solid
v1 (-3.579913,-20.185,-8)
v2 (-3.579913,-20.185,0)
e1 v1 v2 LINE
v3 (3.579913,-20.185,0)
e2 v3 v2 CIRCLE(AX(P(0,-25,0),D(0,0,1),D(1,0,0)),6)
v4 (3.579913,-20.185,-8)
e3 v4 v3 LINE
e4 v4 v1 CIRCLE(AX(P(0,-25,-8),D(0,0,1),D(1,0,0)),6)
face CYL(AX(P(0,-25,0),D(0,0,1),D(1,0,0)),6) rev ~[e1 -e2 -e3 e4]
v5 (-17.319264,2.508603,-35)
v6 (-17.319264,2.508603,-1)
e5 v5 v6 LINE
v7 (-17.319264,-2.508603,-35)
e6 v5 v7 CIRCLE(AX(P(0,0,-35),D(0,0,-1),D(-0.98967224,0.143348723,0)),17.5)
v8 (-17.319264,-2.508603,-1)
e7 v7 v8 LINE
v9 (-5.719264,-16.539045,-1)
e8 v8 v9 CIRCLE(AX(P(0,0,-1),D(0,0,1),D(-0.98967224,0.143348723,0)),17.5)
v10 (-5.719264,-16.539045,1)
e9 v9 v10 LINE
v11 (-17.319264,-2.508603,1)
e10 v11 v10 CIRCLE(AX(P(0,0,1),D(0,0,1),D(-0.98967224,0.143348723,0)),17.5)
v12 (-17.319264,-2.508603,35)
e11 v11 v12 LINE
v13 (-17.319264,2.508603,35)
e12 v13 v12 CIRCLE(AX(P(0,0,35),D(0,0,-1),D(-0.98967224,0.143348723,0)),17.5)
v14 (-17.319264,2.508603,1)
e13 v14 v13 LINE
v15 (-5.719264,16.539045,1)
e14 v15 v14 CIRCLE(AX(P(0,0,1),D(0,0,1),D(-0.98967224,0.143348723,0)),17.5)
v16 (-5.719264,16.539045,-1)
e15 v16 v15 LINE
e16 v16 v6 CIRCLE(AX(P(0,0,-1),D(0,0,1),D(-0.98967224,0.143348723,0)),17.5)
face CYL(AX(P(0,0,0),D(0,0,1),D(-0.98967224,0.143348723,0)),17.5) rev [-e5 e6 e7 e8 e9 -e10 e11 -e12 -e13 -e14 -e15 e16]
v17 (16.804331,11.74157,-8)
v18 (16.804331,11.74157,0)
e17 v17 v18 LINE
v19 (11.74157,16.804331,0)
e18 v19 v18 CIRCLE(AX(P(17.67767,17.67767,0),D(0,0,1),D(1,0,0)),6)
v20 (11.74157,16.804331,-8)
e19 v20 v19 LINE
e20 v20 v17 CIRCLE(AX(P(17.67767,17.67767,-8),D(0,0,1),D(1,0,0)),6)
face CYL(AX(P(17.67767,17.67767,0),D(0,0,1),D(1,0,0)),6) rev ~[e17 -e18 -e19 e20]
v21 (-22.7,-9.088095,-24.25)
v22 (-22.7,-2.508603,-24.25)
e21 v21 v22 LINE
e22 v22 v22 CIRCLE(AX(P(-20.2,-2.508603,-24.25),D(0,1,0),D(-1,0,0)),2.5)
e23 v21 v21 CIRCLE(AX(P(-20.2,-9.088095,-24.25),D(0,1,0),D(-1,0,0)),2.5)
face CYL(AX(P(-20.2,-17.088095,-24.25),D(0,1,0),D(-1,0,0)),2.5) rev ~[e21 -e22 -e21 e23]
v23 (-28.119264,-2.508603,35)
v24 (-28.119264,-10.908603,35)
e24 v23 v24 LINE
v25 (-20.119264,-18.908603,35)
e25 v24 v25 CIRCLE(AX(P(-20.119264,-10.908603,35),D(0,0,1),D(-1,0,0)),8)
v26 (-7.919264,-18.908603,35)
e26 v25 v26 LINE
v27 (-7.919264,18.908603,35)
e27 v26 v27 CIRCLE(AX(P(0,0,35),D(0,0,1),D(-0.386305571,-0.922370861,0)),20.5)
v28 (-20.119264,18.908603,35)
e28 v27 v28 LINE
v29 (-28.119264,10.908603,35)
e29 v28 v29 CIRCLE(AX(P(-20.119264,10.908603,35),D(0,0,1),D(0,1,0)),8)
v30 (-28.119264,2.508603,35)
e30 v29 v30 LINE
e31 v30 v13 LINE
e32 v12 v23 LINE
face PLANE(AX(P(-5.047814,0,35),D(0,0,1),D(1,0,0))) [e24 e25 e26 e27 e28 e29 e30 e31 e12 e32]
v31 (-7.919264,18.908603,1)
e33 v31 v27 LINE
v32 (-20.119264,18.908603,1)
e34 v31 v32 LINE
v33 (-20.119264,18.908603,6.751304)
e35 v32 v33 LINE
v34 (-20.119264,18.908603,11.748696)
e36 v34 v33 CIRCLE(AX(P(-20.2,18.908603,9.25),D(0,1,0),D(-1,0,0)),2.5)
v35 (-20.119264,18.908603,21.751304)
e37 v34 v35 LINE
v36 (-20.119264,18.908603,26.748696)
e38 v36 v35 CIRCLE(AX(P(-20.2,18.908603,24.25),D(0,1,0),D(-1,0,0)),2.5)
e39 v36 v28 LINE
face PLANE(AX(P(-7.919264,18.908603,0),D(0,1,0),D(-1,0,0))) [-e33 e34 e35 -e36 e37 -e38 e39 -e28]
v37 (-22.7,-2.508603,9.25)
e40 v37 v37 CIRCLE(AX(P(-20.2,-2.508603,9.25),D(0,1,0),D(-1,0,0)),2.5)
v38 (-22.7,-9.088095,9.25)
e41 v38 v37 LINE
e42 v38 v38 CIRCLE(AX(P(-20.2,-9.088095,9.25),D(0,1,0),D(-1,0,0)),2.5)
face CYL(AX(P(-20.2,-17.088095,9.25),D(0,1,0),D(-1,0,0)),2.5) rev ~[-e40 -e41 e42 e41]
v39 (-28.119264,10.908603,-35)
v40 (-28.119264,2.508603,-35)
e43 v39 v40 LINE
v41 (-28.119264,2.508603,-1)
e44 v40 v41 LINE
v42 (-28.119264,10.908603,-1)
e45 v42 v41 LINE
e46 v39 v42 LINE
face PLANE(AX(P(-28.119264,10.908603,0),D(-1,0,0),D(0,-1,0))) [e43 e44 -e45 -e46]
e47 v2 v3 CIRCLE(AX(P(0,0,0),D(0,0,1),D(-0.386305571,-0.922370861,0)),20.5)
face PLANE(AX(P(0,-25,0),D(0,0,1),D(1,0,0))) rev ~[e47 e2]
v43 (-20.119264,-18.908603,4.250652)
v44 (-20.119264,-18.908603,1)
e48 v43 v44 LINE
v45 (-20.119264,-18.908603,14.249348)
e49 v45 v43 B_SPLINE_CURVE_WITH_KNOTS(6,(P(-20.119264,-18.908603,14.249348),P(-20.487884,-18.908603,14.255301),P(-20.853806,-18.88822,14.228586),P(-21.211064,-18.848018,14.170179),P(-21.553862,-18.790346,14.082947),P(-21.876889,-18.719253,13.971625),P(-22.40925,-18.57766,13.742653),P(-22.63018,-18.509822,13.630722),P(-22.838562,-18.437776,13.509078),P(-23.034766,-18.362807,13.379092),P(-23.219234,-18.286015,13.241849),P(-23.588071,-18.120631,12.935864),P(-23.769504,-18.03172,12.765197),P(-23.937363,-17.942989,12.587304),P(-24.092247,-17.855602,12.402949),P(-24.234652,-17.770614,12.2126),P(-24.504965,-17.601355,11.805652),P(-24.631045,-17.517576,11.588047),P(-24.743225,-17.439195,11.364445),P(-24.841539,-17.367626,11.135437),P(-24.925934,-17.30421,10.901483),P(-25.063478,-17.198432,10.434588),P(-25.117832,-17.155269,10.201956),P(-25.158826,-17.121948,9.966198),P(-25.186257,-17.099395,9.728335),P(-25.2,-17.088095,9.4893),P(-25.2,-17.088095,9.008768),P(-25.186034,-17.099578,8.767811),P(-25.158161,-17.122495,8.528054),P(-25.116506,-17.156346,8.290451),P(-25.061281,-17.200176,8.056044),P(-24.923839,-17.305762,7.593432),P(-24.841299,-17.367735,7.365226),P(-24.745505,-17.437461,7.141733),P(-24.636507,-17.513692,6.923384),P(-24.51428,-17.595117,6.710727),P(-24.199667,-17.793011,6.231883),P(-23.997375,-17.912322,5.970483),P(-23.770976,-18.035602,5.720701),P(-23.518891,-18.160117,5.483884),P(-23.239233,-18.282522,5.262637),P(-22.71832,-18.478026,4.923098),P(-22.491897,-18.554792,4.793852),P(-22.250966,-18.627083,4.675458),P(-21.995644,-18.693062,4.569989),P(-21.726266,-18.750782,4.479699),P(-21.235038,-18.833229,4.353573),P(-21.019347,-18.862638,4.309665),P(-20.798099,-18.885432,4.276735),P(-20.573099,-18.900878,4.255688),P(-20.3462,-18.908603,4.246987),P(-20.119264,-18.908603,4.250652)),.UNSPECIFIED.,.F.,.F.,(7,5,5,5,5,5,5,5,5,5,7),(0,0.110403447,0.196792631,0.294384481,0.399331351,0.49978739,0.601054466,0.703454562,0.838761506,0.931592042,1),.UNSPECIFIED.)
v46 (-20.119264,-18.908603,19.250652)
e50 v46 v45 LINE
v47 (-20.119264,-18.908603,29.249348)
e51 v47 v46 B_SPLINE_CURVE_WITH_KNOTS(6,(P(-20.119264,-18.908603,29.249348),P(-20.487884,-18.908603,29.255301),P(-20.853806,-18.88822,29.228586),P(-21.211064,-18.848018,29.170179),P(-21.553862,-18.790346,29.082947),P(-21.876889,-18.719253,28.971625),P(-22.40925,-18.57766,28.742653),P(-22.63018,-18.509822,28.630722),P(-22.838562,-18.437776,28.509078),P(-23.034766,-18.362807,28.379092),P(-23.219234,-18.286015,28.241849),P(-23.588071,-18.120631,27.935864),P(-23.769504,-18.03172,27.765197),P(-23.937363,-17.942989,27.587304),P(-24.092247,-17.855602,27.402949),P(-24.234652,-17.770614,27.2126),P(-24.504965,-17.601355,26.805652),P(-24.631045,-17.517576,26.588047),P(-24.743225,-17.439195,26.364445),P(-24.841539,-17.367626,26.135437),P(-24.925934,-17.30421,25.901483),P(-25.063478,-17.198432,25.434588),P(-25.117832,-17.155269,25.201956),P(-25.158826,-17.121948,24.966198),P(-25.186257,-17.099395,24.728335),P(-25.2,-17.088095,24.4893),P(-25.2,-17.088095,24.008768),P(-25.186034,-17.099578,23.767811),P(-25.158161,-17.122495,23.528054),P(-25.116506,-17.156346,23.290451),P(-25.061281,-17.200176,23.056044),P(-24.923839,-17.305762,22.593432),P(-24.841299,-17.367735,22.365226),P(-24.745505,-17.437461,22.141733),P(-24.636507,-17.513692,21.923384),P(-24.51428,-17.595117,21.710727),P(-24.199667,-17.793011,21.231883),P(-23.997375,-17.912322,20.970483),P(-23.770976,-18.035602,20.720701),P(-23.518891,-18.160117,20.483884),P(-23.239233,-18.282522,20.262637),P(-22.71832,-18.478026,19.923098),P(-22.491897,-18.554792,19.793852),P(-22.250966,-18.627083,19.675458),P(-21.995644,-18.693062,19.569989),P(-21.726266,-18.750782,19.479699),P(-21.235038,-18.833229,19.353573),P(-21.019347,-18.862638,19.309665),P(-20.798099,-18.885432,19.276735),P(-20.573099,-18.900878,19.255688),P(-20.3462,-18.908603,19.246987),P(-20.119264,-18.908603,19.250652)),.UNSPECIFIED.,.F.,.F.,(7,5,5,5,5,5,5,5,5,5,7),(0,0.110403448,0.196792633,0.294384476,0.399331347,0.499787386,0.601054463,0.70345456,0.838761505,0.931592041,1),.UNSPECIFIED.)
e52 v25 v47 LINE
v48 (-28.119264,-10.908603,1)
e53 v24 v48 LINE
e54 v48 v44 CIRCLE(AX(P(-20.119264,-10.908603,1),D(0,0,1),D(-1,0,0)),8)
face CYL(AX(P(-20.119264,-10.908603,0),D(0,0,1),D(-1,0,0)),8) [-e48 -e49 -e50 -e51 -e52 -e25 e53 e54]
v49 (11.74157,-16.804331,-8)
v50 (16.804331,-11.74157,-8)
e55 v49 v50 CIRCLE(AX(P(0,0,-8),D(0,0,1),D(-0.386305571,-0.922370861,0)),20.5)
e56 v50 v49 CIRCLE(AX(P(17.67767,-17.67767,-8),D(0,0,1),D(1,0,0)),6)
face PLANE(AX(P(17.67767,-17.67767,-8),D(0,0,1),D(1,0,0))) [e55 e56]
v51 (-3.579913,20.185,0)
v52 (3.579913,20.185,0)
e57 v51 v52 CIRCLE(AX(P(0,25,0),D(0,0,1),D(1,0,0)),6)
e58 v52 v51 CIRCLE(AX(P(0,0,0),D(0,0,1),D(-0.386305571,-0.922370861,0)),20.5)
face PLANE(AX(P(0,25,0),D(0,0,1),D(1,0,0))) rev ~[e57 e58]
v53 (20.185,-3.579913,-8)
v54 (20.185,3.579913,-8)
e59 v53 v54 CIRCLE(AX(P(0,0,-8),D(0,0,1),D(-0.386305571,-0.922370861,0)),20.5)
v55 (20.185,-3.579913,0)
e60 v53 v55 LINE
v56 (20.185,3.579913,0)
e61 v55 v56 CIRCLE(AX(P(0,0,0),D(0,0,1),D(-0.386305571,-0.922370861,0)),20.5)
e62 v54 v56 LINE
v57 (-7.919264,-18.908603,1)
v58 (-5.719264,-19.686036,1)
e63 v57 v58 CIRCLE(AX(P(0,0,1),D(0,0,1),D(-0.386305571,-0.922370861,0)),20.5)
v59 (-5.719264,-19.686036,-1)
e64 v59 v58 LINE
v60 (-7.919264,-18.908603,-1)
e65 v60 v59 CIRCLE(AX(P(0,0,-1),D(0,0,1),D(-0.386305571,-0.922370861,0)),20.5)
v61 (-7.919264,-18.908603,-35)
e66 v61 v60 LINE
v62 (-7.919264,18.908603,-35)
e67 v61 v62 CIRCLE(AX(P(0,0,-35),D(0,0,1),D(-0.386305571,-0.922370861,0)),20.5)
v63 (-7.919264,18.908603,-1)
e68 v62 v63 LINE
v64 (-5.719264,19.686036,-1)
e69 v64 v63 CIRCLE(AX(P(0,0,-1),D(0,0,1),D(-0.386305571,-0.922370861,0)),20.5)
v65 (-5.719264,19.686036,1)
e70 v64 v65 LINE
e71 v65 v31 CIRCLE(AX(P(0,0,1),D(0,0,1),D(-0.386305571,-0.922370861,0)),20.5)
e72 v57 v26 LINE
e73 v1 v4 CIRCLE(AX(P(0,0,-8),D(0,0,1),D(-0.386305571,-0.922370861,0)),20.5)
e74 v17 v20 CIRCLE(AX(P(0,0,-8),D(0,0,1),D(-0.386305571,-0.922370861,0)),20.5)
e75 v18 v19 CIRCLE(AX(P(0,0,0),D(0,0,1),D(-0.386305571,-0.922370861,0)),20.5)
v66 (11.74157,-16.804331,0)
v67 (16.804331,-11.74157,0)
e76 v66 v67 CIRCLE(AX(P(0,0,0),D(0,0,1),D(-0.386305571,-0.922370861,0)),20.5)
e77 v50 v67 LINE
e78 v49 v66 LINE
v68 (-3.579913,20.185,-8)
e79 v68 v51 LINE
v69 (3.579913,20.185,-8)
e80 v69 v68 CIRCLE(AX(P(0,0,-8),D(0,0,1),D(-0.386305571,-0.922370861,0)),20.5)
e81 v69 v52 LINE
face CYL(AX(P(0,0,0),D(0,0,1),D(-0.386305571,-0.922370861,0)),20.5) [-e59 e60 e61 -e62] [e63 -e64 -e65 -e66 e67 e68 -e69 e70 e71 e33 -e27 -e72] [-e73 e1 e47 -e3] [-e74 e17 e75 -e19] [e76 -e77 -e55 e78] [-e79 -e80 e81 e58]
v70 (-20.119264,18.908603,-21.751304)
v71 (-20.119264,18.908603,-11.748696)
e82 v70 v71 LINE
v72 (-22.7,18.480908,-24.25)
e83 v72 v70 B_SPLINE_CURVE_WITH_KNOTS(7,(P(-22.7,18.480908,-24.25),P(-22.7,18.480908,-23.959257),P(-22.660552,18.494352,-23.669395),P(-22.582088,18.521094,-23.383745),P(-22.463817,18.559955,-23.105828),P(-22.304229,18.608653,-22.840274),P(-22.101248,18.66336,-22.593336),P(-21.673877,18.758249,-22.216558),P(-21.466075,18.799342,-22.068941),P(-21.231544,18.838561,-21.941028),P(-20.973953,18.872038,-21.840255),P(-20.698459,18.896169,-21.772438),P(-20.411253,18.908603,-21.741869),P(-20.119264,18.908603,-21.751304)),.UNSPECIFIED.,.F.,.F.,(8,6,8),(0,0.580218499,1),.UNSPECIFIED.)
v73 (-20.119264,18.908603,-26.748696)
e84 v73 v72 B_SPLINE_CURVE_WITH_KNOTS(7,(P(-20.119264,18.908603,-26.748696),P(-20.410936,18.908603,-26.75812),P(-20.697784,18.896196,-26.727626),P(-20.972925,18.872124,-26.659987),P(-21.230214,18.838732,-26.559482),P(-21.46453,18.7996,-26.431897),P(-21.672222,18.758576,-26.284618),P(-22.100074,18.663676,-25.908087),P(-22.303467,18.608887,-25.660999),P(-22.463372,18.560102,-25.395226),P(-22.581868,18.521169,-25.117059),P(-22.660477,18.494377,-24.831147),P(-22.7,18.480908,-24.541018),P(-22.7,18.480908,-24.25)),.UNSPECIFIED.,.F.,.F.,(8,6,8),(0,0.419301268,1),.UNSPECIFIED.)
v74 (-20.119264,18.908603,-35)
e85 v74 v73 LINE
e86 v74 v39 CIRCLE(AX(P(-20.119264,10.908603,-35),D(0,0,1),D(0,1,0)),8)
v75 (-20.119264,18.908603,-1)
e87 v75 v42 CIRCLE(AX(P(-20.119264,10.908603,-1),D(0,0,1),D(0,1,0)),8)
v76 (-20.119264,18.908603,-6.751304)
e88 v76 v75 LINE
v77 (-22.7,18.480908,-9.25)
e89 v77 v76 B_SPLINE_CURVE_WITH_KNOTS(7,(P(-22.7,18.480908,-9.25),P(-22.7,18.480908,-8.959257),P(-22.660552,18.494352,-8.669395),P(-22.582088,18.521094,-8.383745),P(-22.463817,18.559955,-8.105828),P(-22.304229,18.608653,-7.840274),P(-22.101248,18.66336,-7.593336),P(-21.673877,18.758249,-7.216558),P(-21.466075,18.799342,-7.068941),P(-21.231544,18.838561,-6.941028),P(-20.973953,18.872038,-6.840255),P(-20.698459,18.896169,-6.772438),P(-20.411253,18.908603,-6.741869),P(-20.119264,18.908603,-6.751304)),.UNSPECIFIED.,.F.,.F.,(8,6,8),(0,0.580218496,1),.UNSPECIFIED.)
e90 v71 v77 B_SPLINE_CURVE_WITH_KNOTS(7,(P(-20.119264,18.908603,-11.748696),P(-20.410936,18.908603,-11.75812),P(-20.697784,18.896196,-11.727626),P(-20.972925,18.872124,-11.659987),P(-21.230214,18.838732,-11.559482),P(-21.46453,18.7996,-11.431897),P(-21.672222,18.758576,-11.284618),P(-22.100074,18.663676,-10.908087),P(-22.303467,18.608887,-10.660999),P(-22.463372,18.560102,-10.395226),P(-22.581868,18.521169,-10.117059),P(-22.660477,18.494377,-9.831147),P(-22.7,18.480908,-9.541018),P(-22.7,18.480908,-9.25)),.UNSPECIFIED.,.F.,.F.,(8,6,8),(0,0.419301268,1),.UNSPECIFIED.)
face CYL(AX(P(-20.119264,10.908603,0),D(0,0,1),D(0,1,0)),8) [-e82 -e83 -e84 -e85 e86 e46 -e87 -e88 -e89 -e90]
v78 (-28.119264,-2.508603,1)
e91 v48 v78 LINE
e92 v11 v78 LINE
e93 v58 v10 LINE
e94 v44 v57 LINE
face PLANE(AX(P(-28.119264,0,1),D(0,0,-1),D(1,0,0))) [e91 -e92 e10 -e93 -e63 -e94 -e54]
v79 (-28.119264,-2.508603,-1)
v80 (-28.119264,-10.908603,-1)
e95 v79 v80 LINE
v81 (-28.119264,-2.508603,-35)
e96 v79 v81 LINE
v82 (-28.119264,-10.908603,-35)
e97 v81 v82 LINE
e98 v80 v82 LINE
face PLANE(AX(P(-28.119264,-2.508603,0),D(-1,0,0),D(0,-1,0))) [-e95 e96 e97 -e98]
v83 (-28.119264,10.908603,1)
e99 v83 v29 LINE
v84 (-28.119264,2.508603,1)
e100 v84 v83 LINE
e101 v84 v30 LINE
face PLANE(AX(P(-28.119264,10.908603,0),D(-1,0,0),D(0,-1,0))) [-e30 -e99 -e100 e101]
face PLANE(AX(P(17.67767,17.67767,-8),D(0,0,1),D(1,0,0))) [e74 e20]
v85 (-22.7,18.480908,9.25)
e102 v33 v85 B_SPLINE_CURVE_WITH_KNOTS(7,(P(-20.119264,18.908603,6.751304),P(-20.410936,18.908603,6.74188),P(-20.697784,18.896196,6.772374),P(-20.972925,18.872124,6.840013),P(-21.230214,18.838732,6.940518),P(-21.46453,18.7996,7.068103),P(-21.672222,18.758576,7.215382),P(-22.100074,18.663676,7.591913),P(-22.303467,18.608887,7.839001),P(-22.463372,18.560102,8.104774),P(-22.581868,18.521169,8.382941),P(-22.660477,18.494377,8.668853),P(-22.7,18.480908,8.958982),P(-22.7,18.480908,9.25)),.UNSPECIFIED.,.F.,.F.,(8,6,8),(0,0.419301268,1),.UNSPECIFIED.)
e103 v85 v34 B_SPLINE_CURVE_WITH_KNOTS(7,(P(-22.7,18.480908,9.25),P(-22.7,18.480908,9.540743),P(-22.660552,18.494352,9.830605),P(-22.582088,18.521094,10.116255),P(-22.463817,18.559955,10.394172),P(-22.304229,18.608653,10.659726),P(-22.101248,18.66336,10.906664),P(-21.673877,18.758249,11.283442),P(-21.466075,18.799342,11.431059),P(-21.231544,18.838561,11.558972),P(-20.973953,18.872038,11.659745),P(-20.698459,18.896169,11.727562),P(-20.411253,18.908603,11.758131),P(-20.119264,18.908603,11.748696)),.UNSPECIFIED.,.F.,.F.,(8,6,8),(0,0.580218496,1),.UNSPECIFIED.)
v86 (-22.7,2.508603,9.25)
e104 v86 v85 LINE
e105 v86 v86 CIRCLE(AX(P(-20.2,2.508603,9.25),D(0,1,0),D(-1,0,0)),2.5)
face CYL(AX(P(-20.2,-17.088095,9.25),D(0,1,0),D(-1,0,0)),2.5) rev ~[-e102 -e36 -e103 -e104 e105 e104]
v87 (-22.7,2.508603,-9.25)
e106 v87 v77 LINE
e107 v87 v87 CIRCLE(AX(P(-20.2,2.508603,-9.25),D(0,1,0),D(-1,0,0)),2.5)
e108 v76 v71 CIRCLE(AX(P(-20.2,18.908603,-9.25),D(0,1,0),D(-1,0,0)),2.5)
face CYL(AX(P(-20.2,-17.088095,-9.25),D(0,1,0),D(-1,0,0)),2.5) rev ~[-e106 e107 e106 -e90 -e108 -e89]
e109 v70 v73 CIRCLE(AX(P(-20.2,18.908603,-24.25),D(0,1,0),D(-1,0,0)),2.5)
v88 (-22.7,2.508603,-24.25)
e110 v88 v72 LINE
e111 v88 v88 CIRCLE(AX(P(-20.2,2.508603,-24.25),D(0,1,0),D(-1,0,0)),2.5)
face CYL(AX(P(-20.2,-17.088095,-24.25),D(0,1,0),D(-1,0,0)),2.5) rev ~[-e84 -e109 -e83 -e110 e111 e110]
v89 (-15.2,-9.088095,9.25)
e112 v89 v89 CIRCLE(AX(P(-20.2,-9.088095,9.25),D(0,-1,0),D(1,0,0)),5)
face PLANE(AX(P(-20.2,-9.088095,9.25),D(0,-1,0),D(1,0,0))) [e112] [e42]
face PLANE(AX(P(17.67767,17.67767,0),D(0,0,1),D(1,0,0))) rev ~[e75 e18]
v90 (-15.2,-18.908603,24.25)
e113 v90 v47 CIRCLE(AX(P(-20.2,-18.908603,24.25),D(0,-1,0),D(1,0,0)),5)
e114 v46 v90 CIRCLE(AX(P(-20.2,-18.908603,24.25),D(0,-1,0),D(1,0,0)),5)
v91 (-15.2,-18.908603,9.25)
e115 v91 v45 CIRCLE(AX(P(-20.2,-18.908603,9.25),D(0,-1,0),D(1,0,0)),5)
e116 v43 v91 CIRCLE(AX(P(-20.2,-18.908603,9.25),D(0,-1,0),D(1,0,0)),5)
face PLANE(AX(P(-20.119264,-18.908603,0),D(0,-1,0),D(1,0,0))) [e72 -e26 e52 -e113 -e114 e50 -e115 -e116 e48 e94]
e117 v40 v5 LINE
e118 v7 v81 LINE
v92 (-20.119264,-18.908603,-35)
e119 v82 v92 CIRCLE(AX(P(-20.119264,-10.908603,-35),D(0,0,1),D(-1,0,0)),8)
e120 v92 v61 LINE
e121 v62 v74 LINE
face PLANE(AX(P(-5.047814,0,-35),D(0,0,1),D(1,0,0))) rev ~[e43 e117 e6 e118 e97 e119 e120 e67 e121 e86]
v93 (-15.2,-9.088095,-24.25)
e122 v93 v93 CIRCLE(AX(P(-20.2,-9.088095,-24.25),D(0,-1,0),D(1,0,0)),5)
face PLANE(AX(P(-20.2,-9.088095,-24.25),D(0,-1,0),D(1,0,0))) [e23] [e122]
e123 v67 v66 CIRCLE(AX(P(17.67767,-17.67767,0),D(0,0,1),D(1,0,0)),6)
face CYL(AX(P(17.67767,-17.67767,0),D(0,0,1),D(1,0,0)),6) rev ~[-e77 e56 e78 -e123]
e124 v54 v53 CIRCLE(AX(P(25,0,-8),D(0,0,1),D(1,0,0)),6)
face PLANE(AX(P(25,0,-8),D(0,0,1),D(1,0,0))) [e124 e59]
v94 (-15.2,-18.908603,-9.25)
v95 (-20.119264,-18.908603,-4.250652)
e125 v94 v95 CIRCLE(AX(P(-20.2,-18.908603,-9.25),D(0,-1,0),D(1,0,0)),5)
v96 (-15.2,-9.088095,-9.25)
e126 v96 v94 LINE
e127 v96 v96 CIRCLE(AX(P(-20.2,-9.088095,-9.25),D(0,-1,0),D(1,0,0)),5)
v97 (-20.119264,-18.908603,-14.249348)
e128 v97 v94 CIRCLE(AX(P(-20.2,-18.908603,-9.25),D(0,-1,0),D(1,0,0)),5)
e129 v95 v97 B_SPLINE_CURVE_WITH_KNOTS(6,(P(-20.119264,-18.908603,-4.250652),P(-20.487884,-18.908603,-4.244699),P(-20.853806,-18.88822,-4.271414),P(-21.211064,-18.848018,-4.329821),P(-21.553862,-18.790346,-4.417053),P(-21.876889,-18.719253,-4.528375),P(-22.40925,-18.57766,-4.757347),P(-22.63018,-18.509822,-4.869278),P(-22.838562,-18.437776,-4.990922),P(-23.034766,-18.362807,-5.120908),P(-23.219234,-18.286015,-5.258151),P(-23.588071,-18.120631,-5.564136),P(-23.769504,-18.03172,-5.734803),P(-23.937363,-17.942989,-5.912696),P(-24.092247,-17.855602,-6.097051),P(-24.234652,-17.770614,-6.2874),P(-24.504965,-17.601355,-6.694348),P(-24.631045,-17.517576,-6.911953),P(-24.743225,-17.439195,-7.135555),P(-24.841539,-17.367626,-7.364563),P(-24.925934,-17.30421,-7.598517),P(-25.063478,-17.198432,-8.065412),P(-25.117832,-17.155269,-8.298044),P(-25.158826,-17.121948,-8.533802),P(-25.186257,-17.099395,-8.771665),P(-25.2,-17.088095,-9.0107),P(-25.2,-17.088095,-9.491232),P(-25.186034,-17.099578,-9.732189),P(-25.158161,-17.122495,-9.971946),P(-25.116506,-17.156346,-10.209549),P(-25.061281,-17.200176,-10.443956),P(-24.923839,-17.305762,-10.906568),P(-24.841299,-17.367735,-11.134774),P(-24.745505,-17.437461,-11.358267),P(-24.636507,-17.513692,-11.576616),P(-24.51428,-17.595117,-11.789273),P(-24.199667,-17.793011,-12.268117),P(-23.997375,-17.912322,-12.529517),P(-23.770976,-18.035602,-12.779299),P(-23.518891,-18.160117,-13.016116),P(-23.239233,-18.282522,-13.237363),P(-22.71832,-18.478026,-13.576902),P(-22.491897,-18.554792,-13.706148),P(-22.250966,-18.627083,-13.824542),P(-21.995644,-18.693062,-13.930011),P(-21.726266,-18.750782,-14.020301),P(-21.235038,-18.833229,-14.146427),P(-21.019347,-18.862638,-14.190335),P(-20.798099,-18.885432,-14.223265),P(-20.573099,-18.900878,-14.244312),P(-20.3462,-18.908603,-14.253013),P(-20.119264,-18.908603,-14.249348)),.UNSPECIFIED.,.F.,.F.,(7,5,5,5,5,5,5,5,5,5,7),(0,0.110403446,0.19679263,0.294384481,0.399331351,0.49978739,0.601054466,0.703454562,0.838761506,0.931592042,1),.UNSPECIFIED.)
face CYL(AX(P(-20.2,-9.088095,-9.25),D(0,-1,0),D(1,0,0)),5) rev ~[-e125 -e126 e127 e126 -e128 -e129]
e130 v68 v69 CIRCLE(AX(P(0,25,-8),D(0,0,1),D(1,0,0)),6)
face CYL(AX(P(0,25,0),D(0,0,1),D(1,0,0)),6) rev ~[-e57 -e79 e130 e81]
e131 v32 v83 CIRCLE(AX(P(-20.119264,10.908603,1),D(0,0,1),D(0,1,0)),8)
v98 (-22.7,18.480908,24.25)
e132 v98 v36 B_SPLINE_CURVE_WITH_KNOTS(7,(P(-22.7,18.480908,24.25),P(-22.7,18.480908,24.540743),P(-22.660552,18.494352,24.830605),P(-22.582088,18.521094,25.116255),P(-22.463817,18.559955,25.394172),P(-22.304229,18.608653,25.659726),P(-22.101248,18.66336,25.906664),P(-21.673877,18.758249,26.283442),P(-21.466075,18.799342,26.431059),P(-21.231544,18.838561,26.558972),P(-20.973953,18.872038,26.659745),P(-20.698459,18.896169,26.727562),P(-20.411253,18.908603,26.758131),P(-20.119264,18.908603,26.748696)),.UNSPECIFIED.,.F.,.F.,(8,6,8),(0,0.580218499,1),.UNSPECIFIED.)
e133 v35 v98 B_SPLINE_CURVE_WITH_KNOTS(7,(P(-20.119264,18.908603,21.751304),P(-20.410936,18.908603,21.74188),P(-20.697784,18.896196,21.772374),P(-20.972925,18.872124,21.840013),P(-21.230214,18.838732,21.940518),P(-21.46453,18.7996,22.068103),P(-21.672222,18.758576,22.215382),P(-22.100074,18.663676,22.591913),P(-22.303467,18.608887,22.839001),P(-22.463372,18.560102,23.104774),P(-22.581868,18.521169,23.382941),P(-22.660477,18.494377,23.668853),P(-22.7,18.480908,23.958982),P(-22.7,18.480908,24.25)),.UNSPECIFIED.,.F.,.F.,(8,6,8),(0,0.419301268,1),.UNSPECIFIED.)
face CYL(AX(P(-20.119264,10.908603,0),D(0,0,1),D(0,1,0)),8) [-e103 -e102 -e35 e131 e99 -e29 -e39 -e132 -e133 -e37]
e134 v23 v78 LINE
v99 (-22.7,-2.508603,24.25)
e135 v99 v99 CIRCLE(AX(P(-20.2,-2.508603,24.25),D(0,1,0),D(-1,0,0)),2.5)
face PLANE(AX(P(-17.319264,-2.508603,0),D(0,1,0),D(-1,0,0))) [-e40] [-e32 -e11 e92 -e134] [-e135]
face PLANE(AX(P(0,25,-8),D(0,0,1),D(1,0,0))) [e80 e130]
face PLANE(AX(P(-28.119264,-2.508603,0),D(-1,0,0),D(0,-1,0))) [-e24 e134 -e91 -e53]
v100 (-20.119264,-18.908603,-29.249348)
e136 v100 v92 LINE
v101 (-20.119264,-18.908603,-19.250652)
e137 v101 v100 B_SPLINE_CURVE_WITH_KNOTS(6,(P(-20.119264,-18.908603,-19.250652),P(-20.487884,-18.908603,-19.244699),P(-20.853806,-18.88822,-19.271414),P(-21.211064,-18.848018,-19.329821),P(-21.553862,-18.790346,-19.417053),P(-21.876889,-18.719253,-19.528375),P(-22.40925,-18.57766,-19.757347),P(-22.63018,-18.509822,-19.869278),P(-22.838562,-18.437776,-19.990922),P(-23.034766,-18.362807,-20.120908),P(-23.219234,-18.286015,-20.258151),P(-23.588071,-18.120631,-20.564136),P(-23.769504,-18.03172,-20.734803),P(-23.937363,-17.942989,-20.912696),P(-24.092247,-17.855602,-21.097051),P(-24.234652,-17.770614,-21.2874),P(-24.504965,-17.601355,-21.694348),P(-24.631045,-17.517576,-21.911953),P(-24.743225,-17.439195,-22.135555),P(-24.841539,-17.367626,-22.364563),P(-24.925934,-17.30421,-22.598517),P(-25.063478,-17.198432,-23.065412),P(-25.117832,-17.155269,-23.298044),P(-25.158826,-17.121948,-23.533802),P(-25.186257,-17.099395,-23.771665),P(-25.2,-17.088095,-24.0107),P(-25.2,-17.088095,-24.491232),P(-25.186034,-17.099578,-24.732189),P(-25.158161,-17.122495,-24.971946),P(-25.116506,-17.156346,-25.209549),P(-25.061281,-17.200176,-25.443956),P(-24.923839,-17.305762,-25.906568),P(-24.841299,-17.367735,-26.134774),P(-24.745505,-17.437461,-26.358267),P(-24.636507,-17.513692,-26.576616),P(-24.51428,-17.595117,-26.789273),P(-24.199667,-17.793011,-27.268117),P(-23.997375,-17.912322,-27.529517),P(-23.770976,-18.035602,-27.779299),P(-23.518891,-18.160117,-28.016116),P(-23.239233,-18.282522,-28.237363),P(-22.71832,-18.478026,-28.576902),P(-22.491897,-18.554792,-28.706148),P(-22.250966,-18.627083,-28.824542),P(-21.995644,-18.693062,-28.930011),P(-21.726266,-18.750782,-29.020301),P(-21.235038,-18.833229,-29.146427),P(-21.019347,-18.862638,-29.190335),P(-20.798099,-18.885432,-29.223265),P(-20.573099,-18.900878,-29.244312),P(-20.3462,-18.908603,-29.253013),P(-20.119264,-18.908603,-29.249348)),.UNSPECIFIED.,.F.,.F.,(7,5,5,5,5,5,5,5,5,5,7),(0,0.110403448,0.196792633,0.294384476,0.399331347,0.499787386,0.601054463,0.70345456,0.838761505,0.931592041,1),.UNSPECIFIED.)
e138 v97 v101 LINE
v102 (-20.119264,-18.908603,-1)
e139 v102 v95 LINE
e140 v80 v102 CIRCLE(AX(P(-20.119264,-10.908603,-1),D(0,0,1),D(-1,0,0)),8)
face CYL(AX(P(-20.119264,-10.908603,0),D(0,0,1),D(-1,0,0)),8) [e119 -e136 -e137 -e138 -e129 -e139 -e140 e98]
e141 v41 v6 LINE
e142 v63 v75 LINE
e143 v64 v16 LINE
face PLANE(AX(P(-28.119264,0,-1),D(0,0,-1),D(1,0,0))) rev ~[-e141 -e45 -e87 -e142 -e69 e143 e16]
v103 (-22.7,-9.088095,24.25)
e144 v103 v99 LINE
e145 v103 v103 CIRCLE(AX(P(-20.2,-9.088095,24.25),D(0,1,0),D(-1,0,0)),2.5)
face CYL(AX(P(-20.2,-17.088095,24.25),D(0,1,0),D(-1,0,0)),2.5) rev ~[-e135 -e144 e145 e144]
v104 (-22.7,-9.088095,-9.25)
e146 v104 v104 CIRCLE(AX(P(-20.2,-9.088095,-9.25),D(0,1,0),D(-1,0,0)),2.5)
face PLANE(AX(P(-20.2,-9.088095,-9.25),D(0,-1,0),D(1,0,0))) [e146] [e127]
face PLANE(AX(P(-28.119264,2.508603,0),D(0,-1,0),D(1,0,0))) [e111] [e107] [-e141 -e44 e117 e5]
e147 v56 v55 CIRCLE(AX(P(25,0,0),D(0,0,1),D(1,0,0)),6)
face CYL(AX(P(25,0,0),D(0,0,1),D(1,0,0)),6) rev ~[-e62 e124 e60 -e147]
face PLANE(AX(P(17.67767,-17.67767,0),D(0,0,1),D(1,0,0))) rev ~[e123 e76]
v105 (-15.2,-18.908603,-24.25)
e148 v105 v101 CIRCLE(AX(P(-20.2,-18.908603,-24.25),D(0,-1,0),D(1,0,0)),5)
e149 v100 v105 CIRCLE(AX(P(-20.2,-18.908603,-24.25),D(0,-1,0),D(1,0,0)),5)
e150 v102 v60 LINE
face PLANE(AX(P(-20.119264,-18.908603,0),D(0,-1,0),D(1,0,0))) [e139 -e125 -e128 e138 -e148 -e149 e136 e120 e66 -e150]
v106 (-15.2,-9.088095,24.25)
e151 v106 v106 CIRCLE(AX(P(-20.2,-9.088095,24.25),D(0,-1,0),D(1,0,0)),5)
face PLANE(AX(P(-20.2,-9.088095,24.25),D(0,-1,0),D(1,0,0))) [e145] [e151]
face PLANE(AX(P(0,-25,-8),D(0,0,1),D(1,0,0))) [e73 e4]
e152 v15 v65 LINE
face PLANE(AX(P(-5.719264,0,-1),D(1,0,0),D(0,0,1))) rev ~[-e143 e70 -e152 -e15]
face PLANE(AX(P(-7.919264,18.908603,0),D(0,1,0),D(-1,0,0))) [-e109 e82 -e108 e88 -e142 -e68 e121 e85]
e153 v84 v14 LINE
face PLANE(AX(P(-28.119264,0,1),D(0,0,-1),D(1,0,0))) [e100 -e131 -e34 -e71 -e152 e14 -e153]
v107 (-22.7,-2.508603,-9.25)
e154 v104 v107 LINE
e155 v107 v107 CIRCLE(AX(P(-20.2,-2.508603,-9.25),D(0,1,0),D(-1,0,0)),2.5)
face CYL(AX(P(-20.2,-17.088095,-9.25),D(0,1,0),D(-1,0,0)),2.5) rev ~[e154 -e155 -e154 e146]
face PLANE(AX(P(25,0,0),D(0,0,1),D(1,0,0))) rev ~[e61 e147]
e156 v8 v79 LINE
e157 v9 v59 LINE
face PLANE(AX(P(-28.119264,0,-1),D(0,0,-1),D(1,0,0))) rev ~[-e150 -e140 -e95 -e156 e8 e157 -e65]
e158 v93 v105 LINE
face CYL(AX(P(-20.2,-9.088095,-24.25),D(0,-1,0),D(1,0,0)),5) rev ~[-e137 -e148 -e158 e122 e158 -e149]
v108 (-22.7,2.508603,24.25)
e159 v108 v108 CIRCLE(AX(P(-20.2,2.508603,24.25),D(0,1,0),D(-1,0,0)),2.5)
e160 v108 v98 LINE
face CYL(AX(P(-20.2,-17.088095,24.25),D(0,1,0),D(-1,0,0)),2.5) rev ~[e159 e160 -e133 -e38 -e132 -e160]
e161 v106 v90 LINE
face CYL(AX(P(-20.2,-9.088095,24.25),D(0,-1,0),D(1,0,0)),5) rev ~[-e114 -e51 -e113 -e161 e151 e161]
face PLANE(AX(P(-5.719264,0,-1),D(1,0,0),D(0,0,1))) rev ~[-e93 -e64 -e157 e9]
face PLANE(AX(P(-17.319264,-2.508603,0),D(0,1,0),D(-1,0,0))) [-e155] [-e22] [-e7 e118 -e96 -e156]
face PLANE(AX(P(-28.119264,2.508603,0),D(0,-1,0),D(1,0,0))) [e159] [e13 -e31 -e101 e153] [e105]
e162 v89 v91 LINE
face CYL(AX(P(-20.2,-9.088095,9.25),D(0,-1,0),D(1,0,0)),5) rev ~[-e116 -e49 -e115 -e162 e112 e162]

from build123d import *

# Parameters (mm, degrees)
F1_DEPTH       = 35
F3_D           = 5
F3_START       = 1.8205079
F3_CBORE_D     = 10
F3_CBORE_DEPTH = 8
F4_W           = 22.4
F4_H           = 2
F5_DEPTH       = 25
F6_R           = 6
F7_DEPTH       = 8


with BuildPart() as f1:
    # F0 (on Top) → F1 (new body, symmetric)
    with BuildSketch(Plane.XY):
        with BuildLine():
            Line((-20.1192642082, -18.9086026559), (-7.9192642082, -18.9086026559))
            ThreePointArc((-7.9192642082, -18.9086026559), (20.5, 0), (-7.9192642082, 18.9086026559))
            Line((-7.9192642082, 18.9086026559), (-20.1192642082, 18.9086026559))
            ThreePointArc((-20.1192642082, 18.9086026559), (-25.7761184577, 16.5654569054), (-28.1192642082, 10.9086026559))
            Line((-28.1192642082, 10.9086026559), (-28.1192642082, 2.5086026559))
            Line((-28.1192642082, 2.5086026559), (-17.3192642082, 2.5086026559))
            ThreePointArc((-17.3192642082, 2.5086026559), (17.5, 0), (-17.3192642082, -2.5086026559))
            Line((-17.3192642082, -2.5086026559), (-28.1192642082, -2.5086026559))
            Line((-28.1192642082, -2.5086026559), (-28.1192642082, -10.9086026559))
            ThreePointArc((-28.1192642082, -10.9086026559), (-25.7761184577, -16.5654569054), (-20.1192642082, -18.9086026559))
        make_face()
    extrude(amount=F1_DEPTH, both=True)

    # F3 (through all)
    # its depths count from where the whole tool has entered the part; down to there all is cleared
    with Locations(Plane.XZ.offset(18.9086026559).offset(-F3_START)):
        with Locations((-20.2, -24.25), (-20.2, -9.25), (-20.2, 9.25), (-20.2, 24.25)):
            CounterBoreHole(F3_D / 2, F3_CBORE_D / 2, F3_CBORE_DEPTH)

    # F4 (on Front) → F5 (cut, symmetric)
    with BuildSketch(Plane.XZ):
        with Locations((-16.9192642082, 0)):
            Rectangle(F4_W, F4_H)
    extrude(amount=F5_DEPTH, both=True, mode=Mode.SUBTRACT)

    # F6 (on Top) → F7 (cut)
    with BuildSketch(Plane.XY):
        with Locations((0, -25)):
            Circle(F6_R)
        with Locations((17.6776695297, -17.6776695297)):
            Circle(F6_R)
        with Locations((25, 0)):
            Circle(F6_R)
        with Locations((17.6776695297, 17.6776695297)):
            Circle(F6_R)
        with Locations((0, 25)):
            Circle(F6_R)
    extrude(amount=-F7_DEPTH, mode=Mode.SUBTRACT)


solid = f1.part
